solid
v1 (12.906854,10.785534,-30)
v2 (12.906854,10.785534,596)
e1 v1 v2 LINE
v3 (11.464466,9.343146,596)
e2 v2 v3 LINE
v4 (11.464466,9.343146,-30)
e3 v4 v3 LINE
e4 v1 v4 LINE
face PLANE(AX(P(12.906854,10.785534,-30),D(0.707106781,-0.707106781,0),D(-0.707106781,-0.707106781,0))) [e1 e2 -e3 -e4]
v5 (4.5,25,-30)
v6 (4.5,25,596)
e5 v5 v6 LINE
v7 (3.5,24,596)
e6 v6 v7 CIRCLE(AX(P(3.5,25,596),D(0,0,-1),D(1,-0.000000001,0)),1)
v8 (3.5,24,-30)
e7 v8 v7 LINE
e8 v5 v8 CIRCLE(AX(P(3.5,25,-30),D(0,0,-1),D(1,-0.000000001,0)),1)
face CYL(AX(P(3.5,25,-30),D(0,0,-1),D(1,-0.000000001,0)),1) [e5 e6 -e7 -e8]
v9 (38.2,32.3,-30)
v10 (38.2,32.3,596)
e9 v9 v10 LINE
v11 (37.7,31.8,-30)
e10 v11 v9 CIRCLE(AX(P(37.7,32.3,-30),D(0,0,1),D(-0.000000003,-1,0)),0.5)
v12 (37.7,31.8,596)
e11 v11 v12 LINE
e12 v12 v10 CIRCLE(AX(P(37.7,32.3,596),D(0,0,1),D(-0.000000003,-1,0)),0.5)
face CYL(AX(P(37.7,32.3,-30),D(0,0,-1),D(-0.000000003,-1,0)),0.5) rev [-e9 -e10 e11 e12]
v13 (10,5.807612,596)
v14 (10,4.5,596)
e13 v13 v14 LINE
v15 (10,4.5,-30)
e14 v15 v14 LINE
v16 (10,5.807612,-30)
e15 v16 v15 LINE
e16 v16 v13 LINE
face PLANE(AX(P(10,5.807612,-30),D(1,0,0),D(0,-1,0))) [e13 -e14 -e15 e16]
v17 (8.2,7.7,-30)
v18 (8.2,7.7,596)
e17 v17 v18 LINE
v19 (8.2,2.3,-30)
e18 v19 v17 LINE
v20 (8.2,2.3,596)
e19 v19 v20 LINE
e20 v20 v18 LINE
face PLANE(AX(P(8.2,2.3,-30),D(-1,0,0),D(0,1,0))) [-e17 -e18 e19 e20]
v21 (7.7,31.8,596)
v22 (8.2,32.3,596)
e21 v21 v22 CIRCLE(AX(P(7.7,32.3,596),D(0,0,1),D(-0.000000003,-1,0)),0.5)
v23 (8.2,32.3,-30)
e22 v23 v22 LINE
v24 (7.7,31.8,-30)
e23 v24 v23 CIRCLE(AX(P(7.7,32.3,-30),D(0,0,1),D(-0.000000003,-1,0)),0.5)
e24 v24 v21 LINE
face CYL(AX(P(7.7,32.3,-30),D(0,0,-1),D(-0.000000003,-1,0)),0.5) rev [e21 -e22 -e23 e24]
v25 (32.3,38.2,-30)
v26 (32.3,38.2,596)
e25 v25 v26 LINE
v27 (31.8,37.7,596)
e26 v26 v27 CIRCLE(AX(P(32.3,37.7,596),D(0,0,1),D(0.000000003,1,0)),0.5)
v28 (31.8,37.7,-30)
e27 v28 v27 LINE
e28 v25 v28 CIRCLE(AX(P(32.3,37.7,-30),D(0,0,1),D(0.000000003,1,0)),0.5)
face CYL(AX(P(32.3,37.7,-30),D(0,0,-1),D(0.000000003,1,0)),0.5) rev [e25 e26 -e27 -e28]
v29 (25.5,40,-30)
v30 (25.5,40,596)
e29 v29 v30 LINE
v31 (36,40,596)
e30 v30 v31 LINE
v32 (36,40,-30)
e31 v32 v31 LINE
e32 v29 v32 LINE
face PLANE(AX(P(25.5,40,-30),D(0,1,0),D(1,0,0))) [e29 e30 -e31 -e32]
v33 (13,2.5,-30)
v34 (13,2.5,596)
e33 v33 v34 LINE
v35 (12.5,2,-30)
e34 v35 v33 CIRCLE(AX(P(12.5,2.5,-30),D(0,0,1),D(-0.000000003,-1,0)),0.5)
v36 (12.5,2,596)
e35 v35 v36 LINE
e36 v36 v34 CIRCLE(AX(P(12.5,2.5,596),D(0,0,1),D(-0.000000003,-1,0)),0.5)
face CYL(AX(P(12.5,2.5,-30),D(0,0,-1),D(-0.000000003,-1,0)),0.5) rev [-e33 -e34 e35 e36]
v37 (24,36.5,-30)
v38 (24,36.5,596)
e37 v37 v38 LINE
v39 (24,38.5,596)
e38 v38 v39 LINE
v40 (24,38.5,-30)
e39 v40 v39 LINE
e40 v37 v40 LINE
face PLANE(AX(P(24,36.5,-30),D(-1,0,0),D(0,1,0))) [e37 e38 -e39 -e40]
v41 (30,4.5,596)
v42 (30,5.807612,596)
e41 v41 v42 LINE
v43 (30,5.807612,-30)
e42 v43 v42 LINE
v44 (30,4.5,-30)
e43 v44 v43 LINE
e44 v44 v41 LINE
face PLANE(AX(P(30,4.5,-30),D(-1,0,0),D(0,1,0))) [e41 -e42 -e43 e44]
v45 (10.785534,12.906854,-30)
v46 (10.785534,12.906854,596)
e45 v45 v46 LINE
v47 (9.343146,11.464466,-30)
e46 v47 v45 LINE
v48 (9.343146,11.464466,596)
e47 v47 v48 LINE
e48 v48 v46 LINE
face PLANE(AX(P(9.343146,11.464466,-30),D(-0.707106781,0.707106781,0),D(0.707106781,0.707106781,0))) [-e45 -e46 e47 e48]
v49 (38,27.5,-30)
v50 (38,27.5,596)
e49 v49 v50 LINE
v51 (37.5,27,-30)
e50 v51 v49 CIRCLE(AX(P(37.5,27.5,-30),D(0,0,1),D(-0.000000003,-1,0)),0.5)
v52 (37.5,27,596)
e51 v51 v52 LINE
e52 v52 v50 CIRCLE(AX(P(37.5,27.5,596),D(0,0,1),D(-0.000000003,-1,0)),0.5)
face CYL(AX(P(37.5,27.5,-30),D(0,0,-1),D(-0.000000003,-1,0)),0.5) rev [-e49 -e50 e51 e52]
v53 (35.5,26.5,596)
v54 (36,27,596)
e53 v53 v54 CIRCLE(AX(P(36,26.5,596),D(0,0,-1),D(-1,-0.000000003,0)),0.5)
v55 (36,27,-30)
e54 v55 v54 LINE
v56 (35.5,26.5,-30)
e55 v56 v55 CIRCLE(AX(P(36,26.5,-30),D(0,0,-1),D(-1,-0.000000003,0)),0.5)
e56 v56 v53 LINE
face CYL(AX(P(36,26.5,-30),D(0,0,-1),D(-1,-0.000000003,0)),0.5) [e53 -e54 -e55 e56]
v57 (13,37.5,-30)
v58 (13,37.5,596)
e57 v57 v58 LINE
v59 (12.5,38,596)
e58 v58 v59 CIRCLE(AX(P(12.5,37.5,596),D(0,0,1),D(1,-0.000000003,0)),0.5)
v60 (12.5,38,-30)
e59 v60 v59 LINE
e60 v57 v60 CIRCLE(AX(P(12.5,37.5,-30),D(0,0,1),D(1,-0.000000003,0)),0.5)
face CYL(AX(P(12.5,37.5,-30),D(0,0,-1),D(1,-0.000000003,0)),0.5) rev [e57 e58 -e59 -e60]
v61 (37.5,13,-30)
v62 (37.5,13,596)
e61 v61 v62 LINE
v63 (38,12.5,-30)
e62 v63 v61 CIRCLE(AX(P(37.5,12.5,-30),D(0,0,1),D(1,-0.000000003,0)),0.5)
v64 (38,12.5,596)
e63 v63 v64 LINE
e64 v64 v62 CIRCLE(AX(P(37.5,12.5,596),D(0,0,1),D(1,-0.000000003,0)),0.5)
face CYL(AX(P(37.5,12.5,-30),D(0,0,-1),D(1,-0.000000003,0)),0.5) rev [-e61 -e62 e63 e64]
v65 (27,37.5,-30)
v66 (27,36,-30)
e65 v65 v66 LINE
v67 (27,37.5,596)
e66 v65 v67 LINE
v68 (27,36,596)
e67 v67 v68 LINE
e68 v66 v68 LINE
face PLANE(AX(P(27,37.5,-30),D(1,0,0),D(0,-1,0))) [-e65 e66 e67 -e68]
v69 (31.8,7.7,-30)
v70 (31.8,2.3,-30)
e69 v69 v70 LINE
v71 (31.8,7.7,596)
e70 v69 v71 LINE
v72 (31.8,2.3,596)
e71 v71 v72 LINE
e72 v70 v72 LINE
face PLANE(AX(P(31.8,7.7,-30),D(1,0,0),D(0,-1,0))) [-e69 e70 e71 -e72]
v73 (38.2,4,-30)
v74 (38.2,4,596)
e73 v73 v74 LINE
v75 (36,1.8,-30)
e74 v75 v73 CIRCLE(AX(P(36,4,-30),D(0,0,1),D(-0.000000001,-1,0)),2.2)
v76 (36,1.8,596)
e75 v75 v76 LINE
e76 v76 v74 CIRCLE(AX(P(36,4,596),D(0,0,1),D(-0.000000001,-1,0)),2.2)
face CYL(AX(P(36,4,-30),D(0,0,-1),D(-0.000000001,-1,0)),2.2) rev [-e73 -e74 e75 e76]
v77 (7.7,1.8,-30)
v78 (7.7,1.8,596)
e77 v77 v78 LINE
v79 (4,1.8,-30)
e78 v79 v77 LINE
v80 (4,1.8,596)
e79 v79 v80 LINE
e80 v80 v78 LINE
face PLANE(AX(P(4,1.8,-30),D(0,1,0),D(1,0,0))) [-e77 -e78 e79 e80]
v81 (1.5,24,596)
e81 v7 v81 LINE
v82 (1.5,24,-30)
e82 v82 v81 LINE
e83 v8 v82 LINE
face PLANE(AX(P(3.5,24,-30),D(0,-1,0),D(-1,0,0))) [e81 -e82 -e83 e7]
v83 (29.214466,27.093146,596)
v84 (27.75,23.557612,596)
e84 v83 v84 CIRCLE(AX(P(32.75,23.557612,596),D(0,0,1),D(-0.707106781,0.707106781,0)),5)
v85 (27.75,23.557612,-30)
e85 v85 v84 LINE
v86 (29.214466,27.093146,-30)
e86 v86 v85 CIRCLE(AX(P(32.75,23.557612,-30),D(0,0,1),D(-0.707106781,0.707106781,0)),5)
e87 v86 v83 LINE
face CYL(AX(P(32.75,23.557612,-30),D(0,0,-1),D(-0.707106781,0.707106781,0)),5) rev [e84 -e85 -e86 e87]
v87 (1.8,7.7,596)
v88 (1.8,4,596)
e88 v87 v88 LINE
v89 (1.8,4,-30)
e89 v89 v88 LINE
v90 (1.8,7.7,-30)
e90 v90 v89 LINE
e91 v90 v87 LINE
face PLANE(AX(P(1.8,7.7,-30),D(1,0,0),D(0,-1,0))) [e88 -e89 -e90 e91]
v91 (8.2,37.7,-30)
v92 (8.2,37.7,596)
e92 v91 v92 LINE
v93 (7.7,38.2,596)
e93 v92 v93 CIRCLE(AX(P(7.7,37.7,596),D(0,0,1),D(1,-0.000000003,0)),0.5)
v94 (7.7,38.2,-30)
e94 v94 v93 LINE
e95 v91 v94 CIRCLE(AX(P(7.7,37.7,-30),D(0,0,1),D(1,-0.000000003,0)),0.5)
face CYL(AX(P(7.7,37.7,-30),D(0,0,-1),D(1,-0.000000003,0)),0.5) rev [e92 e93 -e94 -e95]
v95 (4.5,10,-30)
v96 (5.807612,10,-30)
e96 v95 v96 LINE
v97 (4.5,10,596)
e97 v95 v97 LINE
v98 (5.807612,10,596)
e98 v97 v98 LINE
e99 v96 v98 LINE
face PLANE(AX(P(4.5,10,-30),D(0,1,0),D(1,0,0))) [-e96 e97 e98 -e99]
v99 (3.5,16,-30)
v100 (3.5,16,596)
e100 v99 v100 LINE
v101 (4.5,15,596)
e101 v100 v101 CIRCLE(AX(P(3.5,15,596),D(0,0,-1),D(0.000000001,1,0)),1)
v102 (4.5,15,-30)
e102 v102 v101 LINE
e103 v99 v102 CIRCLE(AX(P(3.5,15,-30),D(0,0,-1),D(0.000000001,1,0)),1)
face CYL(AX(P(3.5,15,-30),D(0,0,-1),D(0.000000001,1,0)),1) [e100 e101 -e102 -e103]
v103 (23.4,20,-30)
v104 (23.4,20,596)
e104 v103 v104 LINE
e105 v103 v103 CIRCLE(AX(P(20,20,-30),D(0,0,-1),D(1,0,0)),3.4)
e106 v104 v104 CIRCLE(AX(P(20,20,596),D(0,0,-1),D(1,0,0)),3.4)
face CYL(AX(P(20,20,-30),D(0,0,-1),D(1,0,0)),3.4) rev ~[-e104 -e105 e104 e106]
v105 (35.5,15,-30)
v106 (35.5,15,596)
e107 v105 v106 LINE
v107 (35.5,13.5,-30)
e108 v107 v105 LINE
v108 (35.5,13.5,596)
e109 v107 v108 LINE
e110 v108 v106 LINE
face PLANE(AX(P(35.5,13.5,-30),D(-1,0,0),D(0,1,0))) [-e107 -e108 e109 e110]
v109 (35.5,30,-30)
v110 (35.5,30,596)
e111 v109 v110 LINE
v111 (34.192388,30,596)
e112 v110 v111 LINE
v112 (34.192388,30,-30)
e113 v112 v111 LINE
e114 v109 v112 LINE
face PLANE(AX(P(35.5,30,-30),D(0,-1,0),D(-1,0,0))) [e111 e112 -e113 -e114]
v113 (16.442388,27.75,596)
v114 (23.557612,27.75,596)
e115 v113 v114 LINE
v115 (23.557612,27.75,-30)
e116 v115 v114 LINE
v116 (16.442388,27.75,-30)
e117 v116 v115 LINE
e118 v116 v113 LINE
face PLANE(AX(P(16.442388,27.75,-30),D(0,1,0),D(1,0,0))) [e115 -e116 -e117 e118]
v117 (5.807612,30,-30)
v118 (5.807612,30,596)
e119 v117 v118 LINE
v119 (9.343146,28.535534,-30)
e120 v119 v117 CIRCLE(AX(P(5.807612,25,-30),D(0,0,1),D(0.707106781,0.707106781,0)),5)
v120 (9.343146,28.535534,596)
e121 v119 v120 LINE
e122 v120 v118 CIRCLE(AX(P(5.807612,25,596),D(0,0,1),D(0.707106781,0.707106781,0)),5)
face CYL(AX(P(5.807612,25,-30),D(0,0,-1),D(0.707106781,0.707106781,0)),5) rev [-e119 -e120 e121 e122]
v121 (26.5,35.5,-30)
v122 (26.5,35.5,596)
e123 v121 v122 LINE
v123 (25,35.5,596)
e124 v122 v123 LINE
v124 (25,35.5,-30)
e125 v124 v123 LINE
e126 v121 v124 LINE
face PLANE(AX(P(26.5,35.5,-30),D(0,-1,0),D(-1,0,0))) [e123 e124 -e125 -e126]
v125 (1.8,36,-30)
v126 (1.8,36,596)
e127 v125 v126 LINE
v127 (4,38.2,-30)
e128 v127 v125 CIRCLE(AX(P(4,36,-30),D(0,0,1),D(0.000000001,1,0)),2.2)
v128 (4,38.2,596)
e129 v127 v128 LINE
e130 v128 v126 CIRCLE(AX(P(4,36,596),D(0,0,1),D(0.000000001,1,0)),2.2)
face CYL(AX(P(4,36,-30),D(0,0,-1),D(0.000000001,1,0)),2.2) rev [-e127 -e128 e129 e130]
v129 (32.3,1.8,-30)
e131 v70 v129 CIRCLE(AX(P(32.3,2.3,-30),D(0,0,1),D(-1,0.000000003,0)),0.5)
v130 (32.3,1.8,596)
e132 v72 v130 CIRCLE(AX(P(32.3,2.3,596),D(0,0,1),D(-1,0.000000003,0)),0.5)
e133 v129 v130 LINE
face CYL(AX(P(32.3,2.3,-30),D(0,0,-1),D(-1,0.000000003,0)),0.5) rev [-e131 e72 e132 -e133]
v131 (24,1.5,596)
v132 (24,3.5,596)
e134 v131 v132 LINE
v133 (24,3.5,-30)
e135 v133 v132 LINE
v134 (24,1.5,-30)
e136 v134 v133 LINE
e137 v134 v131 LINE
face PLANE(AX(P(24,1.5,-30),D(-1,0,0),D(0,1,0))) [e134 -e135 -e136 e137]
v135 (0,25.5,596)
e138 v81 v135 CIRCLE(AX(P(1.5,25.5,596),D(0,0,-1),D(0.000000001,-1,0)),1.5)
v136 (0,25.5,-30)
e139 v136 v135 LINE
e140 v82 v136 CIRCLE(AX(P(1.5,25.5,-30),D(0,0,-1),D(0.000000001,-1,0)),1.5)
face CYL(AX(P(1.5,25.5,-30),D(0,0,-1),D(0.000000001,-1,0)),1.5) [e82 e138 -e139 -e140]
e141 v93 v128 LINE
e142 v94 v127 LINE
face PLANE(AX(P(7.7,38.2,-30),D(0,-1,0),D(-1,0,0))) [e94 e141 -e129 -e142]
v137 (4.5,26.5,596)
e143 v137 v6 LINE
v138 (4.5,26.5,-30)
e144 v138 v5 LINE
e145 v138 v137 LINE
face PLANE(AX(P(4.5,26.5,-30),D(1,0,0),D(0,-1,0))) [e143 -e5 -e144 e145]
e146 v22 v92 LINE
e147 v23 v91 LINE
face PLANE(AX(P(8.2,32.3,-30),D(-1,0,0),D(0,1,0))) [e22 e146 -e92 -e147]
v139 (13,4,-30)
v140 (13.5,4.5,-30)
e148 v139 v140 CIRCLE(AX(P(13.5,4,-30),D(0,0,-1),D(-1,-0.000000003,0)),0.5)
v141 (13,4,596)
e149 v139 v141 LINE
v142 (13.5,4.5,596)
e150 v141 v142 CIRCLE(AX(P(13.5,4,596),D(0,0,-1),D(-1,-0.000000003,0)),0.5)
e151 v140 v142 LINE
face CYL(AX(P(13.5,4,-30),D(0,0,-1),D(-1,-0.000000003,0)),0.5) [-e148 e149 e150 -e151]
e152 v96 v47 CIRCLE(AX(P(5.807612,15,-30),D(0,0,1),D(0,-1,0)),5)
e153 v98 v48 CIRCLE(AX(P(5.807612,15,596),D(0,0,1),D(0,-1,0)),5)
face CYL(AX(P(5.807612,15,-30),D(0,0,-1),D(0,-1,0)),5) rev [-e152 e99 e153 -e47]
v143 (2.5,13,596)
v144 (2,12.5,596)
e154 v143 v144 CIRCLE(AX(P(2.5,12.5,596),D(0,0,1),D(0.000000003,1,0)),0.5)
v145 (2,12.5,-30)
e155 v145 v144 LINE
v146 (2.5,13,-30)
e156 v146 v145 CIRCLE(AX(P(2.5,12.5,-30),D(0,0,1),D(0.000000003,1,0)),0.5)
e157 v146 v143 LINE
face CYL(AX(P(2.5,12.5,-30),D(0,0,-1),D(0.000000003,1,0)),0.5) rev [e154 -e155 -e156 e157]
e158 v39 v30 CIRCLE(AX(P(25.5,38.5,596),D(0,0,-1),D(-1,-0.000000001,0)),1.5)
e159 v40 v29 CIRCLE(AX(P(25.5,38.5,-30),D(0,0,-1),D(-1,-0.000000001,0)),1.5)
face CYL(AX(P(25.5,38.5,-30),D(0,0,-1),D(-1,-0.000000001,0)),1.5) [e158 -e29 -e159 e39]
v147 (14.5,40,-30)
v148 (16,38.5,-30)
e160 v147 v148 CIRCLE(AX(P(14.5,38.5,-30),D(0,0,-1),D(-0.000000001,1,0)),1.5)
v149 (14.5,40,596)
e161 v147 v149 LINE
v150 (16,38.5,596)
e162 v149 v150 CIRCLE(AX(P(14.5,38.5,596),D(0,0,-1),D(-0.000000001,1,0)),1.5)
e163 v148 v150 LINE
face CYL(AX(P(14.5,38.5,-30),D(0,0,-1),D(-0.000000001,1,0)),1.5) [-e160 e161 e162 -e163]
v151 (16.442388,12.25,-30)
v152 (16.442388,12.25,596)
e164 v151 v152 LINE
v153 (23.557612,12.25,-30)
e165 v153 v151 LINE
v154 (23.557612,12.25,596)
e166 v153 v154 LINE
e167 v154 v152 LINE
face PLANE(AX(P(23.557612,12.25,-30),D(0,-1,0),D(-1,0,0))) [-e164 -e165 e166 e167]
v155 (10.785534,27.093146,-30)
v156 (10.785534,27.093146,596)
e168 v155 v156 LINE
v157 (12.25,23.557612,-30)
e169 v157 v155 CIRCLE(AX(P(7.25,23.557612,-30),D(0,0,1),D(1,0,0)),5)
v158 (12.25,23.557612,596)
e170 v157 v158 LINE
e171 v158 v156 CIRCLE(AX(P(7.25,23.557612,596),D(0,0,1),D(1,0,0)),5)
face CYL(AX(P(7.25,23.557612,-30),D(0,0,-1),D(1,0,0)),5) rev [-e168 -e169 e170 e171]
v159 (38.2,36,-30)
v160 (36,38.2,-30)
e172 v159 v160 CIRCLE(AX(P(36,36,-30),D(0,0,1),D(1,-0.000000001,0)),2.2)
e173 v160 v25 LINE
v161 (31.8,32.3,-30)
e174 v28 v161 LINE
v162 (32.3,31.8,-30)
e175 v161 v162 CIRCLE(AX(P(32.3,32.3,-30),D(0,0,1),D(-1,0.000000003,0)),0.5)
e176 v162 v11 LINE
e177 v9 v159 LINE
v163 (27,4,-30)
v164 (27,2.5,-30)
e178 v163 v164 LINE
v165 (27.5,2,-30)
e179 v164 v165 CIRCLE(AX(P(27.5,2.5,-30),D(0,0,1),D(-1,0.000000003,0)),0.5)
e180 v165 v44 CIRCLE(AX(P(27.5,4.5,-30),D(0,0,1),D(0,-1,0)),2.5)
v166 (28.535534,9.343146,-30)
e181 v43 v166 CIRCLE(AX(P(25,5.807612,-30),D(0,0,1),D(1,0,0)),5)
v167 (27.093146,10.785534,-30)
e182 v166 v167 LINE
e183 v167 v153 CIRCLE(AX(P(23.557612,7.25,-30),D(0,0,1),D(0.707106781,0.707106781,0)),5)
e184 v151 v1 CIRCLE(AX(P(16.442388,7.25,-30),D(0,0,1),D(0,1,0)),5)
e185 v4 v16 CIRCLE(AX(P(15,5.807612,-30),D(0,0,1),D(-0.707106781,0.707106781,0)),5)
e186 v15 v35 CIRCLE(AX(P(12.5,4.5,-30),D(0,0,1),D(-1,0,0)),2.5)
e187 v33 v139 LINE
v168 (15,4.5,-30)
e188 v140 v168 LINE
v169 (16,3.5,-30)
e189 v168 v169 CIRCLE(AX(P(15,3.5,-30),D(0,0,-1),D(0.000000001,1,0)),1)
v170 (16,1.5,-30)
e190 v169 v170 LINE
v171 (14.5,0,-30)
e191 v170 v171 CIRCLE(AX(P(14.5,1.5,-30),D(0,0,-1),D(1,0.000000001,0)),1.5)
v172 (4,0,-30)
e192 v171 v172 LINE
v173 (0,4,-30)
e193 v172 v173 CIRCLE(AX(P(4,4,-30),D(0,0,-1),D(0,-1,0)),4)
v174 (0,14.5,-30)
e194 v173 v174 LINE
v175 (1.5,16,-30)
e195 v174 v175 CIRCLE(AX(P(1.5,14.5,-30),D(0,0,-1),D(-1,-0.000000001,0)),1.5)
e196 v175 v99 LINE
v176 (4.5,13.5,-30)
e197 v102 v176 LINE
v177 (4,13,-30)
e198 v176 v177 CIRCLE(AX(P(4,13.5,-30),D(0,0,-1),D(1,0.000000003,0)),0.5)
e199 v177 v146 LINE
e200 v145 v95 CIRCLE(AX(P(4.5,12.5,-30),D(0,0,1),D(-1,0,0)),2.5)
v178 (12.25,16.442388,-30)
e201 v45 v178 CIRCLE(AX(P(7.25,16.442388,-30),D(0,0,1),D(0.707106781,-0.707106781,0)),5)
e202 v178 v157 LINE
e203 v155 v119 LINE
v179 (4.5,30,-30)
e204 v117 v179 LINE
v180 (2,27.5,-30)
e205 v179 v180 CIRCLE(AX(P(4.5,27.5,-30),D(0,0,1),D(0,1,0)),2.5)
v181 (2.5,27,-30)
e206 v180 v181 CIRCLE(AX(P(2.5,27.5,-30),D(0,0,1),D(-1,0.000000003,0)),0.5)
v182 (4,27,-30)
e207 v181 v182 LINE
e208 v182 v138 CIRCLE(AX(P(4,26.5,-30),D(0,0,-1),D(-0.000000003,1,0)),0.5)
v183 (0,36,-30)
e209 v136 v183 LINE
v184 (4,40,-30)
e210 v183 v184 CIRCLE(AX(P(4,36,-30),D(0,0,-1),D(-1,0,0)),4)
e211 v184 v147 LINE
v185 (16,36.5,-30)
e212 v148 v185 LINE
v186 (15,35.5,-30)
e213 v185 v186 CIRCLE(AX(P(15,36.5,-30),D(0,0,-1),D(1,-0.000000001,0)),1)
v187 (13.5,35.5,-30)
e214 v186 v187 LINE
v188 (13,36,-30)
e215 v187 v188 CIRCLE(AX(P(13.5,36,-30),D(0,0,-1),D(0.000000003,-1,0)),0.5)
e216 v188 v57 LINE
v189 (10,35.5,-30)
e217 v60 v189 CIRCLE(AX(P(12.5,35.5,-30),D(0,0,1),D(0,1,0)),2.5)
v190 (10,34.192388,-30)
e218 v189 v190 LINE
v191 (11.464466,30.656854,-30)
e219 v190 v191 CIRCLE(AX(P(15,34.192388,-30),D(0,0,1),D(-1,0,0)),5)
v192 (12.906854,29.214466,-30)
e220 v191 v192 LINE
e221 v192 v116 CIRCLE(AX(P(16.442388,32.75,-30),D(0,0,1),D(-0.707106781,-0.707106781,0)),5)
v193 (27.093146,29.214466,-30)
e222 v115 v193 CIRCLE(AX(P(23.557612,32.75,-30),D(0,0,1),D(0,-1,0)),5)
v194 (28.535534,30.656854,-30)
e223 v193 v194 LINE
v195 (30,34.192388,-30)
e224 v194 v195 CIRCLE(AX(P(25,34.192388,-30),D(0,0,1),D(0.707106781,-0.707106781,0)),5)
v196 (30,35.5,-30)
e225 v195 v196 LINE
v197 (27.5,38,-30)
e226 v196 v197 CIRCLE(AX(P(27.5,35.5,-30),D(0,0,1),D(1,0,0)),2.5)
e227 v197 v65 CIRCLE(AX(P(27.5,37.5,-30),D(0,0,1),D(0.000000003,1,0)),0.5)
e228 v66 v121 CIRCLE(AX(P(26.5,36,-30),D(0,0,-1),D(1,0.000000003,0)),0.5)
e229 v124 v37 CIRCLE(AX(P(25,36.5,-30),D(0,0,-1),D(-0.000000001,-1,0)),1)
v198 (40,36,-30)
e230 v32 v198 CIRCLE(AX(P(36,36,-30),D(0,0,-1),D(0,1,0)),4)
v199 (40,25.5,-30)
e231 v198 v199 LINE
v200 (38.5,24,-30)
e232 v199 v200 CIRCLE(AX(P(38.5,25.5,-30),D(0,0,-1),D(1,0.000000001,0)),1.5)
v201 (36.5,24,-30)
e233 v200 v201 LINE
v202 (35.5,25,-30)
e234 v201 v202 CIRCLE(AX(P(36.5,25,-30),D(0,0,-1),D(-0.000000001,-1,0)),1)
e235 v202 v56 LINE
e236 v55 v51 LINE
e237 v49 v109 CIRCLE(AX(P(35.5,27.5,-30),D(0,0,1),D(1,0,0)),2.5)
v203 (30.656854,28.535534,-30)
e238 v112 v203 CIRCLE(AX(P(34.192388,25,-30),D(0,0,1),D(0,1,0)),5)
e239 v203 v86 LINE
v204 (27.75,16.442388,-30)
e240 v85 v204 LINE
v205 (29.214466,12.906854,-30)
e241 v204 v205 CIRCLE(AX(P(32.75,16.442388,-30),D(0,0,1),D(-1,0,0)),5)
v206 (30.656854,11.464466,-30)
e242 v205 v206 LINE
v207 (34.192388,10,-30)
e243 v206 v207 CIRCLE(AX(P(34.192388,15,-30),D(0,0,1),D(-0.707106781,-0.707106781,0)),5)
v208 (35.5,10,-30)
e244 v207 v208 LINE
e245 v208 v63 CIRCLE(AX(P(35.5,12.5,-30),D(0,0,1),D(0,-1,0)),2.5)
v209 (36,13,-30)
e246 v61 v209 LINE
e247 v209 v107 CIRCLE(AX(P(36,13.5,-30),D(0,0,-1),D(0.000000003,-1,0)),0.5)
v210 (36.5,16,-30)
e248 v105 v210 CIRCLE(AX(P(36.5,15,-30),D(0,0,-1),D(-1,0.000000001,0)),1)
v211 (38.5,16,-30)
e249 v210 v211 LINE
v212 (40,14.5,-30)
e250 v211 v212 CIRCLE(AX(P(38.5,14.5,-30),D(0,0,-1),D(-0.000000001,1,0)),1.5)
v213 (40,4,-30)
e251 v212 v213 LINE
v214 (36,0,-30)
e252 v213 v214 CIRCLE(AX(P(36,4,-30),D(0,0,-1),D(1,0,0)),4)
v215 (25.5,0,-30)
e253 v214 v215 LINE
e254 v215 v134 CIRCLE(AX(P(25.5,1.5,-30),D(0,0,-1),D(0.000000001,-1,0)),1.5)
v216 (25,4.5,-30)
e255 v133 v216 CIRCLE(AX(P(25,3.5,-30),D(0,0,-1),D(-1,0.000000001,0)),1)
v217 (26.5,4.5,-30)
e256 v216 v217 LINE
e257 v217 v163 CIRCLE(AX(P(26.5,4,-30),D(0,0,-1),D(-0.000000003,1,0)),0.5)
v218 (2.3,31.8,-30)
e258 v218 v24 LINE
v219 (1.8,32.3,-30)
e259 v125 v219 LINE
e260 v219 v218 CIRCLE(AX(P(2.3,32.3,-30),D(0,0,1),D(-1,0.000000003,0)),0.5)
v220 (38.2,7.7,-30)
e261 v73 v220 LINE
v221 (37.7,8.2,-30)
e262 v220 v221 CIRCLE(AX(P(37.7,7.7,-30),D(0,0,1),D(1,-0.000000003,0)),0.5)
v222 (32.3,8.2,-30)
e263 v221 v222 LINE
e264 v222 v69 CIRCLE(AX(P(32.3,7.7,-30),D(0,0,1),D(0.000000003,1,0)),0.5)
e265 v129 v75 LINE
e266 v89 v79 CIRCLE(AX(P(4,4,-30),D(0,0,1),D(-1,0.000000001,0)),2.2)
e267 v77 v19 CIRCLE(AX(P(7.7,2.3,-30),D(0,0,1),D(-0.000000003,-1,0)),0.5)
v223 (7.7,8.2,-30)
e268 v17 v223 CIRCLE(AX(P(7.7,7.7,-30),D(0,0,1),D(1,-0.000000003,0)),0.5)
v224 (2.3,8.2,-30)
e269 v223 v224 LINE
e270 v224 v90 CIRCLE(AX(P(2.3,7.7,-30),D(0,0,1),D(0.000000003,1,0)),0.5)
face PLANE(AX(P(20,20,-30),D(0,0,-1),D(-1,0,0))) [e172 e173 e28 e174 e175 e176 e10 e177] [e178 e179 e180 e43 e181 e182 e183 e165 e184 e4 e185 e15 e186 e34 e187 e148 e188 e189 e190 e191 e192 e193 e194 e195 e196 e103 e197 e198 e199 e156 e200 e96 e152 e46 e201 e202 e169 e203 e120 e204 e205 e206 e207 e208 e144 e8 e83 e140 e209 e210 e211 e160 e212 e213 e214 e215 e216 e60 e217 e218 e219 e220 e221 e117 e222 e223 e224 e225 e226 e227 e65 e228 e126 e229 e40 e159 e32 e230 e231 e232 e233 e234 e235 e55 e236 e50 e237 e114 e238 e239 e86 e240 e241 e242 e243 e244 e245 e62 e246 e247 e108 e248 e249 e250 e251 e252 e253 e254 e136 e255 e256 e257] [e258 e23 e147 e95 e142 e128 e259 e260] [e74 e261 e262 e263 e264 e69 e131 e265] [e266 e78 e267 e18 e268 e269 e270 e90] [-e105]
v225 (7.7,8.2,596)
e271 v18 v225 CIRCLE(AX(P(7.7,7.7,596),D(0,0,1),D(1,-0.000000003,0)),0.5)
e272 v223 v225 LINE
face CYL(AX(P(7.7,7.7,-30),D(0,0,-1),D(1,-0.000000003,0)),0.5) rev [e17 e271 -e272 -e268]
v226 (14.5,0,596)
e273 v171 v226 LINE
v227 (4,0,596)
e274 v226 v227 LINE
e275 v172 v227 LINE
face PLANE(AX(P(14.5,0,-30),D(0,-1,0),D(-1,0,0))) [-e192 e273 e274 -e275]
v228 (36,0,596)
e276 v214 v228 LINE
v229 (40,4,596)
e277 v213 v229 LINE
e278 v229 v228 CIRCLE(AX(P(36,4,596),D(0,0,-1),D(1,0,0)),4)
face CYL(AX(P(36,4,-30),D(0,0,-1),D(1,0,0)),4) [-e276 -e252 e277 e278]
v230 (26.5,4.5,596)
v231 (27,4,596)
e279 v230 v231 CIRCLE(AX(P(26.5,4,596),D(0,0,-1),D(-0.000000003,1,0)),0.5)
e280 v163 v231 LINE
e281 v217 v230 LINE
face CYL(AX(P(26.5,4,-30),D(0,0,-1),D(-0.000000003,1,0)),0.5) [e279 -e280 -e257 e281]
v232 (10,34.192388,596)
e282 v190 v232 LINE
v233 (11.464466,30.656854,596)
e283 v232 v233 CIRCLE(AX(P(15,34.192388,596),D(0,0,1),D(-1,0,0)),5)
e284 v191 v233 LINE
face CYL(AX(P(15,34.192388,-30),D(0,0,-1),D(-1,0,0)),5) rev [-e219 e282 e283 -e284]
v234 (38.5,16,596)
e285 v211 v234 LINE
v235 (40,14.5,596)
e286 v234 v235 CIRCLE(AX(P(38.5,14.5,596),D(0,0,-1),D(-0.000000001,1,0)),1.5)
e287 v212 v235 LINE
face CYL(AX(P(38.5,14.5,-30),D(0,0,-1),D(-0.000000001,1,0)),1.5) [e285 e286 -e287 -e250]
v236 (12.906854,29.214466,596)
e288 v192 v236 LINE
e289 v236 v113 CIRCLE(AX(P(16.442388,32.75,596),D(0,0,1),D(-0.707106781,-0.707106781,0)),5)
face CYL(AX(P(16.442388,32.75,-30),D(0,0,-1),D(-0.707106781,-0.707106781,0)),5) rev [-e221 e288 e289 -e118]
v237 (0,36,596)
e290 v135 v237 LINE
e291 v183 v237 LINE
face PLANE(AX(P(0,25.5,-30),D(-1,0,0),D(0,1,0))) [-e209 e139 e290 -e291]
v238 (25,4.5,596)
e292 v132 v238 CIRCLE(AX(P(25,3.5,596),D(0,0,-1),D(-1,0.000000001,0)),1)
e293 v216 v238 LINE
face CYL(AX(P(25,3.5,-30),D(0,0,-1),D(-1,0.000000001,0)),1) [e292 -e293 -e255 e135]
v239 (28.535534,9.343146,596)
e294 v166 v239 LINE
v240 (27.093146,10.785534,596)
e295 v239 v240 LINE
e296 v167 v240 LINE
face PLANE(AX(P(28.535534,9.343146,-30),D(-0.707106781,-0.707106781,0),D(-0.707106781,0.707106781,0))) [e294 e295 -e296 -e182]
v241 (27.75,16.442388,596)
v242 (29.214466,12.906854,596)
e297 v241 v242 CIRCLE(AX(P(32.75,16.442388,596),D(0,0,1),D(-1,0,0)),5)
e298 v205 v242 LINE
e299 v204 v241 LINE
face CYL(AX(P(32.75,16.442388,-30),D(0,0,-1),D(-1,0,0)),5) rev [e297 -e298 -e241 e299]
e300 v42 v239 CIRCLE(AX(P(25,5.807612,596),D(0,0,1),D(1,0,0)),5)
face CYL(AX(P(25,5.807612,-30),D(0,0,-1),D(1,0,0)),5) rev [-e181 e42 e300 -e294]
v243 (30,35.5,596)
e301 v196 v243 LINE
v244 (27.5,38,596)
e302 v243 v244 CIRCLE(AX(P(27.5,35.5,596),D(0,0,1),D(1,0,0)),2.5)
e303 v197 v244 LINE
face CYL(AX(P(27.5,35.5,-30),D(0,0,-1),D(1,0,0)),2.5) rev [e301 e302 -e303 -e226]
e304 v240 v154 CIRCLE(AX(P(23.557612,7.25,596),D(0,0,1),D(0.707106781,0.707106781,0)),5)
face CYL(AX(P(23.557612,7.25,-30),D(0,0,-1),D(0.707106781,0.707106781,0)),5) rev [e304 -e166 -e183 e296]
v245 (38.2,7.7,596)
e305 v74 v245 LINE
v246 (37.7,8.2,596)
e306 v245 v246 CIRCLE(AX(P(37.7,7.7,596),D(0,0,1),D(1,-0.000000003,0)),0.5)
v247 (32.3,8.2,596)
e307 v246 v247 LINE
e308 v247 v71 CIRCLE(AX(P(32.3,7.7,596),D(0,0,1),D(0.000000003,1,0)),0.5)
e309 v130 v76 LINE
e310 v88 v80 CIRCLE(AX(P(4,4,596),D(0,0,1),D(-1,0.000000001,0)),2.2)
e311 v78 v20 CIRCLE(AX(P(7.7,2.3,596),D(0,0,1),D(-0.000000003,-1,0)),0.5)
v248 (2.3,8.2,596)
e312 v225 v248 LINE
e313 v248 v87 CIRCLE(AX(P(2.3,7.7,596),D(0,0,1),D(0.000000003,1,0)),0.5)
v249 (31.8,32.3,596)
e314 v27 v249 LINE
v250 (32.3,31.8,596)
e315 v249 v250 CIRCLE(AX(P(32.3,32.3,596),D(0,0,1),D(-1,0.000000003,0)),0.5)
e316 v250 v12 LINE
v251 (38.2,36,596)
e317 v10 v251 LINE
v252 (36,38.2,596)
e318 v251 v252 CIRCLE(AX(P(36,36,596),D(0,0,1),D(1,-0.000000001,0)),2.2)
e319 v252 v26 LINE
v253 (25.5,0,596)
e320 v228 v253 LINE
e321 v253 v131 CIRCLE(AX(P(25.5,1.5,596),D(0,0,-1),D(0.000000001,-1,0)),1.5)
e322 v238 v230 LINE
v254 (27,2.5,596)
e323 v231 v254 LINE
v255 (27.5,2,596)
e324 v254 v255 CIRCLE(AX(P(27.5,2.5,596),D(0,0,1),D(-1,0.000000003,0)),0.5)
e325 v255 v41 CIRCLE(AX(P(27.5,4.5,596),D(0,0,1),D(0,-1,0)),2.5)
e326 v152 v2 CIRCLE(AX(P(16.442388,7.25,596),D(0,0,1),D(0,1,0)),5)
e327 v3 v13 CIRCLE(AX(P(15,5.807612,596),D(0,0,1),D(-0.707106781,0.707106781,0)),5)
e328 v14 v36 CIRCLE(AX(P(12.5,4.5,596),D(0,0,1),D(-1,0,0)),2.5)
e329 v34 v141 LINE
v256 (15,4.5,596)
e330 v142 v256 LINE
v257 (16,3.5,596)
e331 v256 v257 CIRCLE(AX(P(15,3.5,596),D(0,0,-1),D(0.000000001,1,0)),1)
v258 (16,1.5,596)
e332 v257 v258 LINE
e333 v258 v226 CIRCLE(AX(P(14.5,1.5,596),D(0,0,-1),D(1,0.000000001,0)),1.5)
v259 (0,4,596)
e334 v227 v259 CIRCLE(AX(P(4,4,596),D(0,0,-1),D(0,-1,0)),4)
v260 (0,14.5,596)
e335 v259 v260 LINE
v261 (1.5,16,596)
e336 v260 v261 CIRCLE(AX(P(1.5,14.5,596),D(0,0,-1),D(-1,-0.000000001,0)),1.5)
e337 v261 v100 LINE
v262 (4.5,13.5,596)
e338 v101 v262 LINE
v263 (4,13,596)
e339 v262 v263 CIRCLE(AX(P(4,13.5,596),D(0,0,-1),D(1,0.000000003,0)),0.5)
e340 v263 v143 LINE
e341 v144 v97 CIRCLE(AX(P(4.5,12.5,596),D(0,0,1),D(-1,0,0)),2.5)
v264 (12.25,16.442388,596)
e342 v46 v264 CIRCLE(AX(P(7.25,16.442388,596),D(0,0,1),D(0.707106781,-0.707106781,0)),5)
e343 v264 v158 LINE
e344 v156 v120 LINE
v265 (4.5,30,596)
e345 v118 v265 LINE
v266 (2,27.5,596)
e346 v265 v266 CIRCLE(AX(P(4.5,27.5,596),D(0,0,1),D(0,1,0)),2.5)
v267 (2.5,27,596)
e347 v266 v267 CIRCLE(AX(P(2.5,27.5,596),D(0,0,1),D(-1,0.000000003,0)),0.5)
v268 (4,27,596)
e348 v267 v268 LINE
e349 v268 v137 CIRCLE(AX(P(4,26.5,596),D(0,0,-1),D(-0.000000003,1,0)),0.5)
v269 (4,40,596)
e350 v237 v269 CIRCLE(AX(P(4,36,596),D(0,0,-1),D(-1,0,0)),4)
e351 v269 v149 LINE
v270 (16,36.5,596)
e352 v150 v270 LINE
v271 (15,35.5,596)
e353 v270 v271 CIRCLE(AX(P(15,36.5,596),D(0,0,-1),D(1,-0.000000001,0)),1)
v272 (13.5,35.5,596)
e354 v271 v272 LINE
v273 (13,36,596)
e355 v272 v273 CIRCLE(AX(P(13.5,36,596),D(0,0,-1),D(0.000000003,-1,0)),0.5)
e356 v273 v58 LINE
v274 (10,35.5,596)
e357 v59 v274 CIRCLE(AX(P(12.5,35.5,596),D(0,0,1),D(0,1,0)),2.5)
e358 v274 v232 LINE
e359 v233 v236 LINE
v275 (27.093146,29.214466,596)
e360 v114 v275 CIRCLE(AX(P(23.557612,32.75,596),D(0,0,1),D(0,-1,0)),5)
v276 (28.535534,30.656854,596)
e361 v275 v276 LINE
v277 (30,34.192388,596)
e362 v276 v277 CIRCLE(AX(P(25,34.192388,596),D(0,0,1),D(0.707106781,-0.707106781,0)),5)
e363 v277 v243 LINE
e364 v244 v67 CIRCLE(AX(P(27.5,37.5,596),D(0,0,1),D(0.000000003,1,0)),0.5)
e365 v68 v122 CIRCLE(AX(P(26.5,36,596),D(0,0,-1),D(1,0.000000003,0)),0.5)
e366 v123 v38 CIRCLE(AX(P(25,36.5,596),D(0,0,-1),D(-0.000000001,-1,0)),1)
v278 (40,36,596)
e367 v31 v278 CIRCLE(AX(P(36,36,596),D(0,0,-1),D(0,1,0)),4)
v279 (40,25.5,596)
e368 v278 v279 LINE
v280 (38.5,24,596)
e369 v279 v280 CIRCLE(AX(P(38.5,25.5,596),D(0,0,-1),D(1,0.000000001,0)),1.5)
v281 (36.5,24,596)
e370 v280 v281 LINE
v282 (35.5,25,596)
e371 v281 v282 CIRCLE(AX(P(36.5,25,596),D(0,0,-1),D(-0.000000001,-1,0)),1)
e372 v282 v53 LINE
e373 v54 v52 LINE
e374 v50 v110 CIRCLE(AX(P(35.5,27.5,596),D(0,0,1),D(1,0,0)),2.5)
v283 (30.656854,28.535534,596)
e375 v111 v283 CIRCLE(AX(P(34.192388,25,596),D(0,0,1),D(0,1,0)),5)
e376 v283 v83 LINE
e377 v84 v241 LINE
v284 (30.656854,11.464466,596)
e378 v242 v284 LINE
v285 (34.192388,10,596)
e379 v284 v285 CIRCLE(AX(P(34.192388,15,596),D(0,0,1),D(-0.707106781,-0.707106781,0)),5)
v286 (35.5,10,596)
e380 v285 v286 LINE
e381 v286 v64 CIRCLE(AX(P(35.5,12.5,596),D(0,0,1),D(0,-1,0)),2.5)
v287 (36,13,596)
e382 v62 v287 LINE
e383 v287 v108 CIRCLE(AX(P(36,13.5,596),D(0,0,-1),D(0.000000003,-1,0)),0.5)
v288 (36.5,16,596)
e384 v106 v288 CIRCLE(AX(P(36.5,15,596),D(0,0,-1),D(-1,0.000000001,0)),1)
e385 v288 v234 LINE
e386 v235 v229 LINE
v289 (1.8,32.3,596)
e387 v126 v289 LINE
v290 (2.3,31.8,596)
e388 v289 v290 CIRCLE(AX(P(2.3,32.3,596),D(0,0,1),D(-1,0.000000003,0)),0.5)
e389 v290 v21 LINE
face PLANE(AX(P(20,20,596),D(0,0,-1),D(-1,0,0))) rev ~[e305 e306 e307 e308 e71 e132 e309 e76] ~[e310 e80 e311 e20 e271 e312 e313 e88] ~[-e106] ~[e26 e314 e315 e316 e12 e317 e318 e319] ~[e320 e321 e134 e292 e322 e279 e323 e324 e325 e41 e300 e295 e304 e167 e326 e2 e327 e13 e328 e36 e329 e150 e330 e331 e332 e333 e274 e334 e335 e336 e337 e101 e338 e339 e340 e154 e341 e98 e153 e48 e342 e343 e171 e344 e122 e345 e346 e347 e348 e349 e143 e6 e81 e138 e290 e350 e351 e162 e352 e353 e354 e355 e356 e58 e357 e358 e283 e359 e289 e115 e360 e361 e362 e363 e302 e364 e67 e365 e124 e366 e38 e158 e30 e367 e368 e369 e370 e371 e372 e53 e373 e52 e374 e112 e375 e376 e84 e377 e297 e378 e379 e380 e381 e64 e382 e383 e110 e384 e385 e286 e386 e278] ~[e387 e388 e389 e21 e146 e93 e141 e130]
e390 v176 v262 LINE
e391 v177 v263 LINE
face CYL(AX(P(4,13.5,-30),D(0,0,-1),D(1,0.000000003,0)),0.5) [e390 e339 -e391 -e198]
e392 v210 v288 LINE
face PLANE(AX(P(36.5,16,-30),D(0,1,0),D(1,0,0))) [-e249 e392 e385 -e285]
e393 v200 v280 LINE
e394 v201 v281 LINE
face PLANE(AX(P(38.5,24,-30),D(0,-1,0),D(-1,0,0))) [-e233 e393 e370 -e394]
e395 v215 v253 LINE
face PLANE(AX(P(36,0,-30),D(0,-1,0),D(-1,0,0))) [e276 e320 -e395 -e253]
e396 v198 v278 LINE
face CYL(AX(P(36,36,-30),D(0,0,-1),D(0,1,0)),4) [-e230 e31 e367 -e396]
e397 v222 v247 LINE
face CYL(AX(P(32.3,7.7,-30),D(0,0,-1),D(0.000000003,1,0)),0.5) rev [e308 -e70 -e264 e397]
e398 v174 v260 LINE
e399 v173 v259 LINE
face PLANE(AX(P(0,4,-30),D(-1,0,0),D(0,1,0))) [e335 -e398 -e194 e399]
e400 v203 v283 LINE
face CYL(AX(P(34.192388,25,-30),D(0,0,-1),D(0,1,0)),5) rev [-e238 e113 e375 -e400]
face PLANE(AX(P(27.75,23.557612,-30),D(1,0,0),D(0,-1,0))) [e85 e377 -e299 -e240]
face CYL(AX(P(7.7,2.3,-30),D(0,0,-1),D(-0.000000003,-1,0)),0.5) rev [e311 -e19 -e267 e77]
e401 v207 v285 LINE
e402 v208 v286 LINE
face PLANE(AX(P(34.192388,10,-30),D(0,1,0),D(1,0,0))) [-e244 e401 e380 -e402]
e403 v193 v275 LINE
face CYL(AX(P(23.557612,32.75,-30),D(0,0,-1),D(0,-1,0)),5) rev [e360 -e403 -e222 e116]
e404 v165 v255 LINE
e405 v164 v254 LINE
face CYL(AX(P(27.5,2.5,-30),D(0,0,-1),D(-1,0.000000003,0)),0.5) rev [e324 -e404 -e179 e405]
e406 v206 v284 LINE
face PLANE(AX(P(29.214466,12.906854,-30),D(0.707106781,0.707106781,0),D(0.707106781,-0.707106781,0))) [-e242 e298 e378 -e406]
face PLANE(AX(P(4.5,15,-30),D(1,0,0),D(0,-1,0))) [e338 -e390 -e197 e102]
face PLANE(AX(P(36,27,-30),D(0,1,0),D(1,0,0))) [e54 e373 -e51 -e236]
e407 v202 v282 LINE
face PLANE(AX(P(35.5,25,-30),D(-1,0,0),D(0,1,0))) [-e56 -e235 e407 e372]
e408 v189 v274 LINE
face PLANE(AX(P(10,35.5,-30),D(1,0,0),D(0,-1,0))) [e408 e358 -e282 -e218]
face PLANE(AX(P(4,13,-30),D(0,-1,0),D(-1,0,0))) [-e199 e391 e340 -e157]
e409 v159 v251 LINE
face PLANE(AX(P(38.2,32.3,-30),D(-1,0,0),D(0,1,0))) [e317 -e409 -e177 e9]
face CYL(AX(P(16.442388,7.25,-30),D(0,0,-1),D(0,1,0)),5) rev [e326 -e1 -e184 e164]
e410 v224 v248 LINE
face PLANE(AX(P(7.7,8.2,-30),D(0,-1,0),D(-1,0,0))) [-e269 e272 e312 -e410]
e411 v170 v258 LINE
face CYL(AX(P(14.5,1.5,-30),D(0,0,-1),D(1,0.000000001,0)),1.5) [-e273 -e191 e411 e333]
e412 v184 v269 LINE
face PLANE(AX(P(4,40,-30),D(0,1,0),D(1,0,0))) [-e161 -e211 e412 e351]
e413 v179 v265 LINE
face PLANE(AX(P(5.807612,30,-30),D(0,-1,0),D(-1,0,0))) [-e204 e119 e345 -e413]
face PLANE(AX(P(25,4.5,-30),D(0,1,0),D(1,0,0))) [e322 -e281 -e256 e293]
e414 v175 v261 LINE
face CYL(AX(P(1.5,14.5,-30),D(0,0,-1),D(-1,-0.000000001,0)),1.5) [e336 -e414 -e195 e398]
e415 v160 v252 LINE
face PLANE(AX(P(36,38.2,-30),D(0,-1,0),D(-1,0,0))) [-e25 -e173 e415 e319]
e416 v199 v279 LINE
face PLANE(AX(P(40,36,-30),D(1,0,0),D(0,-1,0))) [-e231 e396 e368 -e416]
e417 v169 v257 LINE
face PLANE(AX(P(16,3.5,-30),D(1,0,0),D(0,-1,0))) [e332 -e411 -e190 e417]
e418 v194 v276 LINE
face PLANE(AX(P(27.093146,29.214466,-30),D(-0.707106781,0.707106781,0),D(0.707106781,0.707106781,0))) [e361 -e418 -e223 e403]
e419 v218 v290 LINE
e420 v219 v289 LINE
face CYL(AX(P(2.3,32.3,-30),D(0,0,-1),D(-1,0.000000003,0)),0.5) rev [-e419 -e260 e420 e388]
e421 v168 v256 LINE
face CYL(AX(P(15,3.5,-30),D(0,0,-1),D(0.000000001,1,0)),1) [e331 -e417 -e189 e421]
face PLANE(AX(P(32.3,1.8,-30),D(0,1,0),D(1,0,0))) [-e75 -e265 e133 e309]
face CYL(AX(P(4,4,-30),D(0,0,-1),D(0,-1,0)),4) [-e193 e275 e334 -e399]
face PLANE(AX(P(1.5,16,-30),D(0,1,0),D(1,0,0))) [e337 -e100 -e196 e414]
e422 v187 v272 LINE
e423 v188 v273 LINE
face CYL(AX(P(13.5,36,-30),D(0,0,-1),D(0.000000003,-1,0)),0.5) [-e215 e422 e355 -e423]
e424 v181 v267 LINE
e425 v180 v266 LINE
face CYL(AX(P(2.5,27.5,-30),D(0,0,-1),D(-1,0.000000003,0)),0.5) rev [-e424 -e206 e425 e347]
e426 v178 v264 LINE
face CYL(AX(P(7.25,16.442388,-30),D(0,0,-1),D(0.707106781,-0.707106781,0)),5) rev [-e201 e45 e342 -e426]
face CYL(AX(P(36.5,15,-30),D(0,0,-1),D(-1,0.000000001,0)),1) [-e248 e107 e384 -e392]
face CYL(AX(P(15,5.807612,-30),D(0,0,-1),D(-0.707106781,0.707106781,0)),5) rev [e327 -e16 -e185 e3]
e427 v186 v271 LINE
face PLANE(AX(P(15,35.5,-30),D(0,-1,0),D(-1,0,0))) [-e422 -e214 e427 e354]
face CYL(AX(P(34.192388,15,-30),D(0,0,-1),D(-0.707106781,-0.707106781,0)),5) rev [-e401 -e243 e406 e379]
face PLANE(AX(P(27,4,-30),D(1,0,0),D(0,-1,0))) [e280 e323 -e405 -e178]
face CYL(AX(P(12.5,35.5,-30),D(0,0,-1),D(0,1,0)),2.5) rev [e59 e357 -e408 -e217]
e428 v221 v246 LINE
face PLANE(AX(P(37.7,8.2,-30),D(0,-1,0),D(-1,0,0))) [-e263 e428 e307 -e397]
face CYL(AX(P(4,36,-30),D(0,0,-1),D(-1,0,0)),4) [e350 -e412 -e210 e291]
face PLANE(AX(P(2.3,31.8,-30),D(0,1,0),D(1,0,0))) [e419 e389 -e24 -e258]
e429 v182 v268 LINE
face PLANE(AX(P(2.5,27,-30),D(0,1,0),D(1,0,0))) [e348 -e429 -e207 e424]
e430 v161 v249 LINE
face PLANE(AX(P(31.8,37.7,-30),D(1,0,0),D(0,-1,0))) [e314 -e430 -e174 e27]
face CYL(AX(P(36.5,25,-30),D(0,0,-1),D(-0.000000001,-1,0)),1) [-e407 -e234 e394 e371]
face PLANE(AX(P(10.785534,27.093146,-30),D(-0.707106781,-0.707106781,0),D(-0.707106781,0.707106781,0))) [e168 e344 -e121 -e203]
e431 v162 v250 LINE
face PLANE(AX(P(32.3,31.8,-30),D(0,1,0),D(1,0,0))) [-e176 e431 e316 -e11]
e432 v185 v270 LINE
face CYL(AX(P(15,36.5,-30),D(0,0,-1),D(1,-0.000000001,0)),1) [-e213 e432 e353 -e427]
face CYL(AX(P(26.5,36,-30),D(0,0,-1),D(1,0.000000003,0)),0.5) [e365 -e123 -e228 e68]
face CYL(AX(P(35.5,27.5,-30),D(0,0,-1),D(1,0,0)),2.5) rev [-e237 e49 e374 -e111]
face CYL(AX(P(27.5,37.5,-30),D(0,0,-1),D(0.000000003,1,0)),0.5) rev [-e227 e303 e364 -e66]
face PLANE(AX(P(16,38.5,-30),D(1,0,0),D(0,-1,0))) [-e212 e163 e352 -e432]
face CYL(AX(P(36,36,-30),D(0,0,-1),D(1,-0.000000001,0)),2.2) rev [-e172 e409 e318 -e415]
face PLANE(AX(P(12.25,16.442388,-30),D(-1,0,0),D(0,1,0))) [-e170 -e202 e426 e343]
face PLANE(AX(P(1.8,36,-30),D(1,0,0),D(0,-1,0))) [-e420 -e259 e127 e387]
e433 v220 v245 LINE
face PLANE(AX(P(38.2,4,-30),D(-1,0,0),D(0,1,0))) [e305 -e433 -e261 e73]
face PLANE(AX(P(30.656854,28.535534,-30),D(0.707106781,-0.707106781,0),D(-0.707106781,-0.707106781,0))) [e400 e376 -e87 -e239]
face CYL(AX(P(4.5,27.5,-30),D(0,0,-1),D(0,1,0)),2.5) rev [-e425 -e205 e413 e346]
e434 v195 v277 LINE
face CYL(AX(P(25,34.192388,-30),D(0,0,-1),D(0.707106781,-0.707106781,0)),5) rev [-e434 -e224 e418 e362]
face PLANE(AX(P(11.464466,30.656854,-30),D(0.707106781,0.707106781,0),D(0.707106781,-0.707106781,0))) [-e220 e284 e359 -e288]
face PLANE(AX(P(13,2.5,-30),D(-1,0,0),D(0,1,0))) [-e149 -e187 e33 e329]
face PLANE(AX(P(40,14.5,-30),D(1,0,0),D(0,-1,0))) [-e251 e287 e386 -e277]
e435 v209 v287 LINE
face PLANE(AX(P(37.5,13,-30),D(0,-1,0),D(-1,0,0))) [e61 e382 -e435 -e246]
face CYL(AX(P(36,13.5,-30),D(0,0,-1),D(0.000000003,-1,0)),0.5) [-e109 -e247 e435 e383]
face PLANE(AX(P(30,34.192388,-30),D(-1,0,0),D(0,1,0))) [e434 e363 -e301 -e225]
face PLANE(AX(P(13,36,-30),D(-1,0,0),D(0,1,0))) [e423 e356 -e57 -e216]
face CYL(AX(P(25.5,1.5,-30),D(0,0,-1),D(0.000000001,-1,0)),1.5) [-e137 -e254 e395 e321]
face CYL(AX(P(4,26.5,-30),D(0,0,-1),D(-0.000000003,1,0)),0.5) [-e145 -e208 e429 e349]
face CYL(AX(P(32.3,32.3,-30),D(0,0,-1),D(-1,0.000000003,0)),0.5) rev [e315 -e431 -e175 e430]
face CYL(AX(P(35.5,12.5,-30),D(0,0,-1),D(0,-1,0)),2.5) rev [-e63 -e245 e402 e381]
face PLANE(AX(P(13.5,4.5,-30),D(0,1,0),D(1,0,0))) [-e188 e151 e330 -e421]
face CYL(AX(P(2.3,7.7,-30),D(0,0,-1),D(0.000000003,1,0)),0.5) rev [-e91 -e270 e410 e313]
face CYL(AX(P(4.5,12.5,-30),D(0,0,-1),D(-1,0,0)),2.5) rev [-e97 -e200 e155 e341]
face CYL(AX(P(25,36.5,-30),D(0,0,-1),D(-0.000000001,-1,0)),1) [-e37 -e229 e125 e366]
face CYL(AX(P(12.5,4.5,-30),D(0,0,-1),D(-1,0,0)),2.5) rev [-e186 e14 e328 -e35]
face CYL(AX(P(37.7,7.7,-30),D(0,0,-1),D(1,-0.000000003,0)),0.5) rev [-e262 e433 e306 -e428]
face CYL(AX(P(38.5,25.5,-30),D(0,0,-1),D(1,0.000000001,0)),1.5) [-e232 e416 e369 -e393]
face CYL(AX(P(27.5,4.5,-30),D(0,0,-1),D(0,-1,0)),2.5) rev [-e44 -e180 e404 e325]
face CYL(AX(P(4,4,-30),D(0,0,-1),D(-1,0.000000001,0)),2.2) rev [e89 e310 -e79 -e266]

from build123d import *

# Parameters (mm, degrees)
ESQUISSE1_R        = 3.4
BOSS_EXTRU_1_DEPTH = 626


with BuildPart() as part:
    # Esquisse1 → Boss.-Extru.1 (new body)
    with BuildSketch(Plane(origin=(0, 0, -30), x_dir=(-1, 0, 0), z_dir=(0, 0, -1))):
        with BuildLine():
            Line((-4.5, 15), (-4.5, 13.5))
            ThreePointArc((-4.5, 13.5), (-4.353553391, 13.146446609), (-4, 13))
            Line((-4, 13), (-2.5, 13))
            ThreePointArc((-2.5, 13), (-2.146446609, 12.853553391), (-2, 12.5))
            ThreePointArc((-2, 12.5), (-2.732233047, 10.732233047), (-4.5, 10))
            Line((-4.5, 10), (-5.807611845, 10))
            ThreePointArc((-5.807611845, 10), (-7.721029006, 10.380602337), (-9.343145751, 11.464466094))
            Line((-9.343145751, 11.464466094), (-10.785533906, 12.906854249))
            ThreePointArc((-10.785533906, 12.906854249), (-11.869397663, 14.528970994), (-12.25, 16.442388155))
            Line((-12.25, 16.442388155), (-12.25, 23.557611845))
            ThreePointArc((-12.25, 23.557611845), (-11.869397663, 25.471029006), (-10.785533906, 27.093145751))
            Line((-10.785533906, 27.093145751), (-9.343145751, 28.535533906))
            ThreePointArc((-9.343145751, 28.535533906), (-7.721029006, 29.619397663), (-5.807611845, 30))
            Line((-5.807611845, 30), (-4.5, 30))
            ThreePointArc((-4.5, 30), (-2.732233047, 29.267766953), (-2, 27.5))
            ThreePointArc((-2, 27.5), (-2.146446609, 27.146446609), (-2.5, 27))
            Line((-2.5, 27), (-4, 27))
            ThreePointArc((-4, 27), (-4.353553391, 26.853553391), (-4.5, 26.5))
            Line((-4.5, 26.5), (-4.5, 25))
            ThreePointArc((-4.5, 25), (-4.207106781, 24.292893219), (-3.5, 24))
            Line((-3.5, 24), (-1.5, 24))
            ThreePointArc((-1.5, 24), (-0.439339828, 24.439339828), (0, 25.5))
            Line((0, 25.5), (0, 36))
            ThreePointArc((0, 36), (-1.171572875, 38.828427125), (-4, 40))
            Line((-4, 40), (-14.5, 40))
            ThreePointArc((-14.5, 40), (-15.560660172, 39.560660172), (-16, 38.5))
            Line((-16, 38.5), (-16, 36.5))
            ThreePointArc((-16, 36.5), (-15.707106781, 35.792893219), (-15, 35.5))
            Line((-15, 35.5), (-13.5, 35.5))
            ThreePointArc((-13.5, 35.5), (-13.146446609, 35.646446609), (-13, 36))
            Line((-13, 36), (-13, 37.5))
            ThreePointArc((-13, 37.5), (-12.853553391, 37.853553391), (-12.5, 38))
            ThreePointArc((-12.5, 38), (-10.732233047, 37.267766953), (-10, 35.5))
            Line((-10, 35.5), (-10, 34.192388155))
            ThreePointArc((-10, 34.192388155), (-10.380602337, 32.278970994), (-11.464466094, 30.656854249))
            Line((-11.464466094, 30.656854249), (-12.906854249, 29.214466094))
            ThreePointArc((-12.906854249, 29.214466094), (-14.528970994, 28.130602337), (-16.442388155, 27.75))
            Line((-16.442388155, 27.75), (-23.557611845, 27.75))
            ThreePointArc((-23.557611845, 27.75), (-25.471029006, 28.130602337), (-27.093145751, 29.214466094))
            Line((-27.093145751, 29.214466094), (-28.535533906, 30.656854249))
            ThreePointArc((-28.535533906, 30.656854249), (-29.619397663, 32.278970994), (-30, 34.192388155))
            Line((-30, 34.192388155), (-30, 35.5))
            ThreePointArc((-30, 35.5), (-29.267766953, 37.267766953), (-27.5, 38))
            ThreePointArc((-27.5, 38), (-27.146446609, 37.853553391), (-27, 37.5))
            Line((-27, 37.5), (-27, 36))
            ThreePointArc((-27, 36), (-26.853553391, 35.646446609), (-26.5, 35.5))
            Line((-26.5, 35.5), (-25, 35.5))
            ThreePointArc((-25, 35.5), (-24.292893219, 35.792893219), (-24, 36.5))
            Line((-24, 36.5), (-24, 38.5))
            ThreePointArc((-24, 38.5), (-24.439339828, 39.560660172), (-25.5, 40))
            Line((-25.5, 40), (-36, 40))
            ThreePointArc((-36, 40), (-38.828427125, 38.828427125), (-40, 36))
            Line((-40, 36), (-40, 25.5))
            ThreePointArc((-40, 25.5), (-39.560660172, 24.439339828), (-38.5, 24))
            Line((-38.5, 24), (-36.5, 24))
            ThreePointArc((-36.5, 24), (-35.792893219, 24.292893219), (-35.5, 25))
            Line((-35.5, 25), (-35.5, 26.5))
            ThreePointArc((-35.5, 26.5), (-35.646446609, 26.853553391), (-36, 27))
            Line((-36, 27), (-37.5, 27))
            ThreePointArc((-37.5, 27), (-37.853553391, 27.146446609), (-38, 27.5))
            ThreePointArc((-38, 27.5), (-37.267766953, 29.267766953), (-35.5, 30))
            Line((-35.5, 30), (-34.192388155, 30))
            ThreePointArc((-34.192388155, 30), (-32.278970994, 29.619397663), (-30.656854249, 28.535533906))
            Line((-30.656854249, 28.535533906), (-29.214466094, 27.093145751))
            ThreePointArc((-29.214466094, 27.093145751), (-28.130602337, 25.471029006), (-27.75, 23.557611845))
            Line((-27.75, 23.557611845), (-27.75, 16.442388155))
            ThreePointArc((-27.75, 16.442388155), (-28.130602337, 14.528970994), (-29.214466094, 12.906854249))
            Line((-29.214466094, 12.906854249), (-30.656854249, 11.464466094))
            ThreePointArc((-30.656854249, 11.464466094), (-32.278970994, 10.380602337), (-34.192388155, 10))
            Line((-34.192388155, 10), (-35.5, 10))
            ThreePointArc((-35.5, 10), (-37.267766953, 10.732233047), (-38, 12.5))
            ThreePointArc((-38, 12.5), (-37.853553391, 12.853553391), (-37.5, 13))
            Line((-37.5, 13), (-36, 13))
            ThreePointArc((-36, 13), (-35.646446609, 13.146446609), (-35.5, 13.5))
            Line((-35.5, 13.5), (-35.5, 15))
            ThreePointArc((-35.5, 15), (-35.792893219, 15.707106781), (-36.5, 16))
            Line((-36.5, 16), (-38.5, 16))
            ThreePointArc((-38.5, 16), (-39.560660172, 15.560660172), (-40, 14.5))
            Line((-40, 14.5), (-40, 4))
            ThreePointArc((-40, 4), (-38.828427125, 1.171572875), (-36, 0))
            Line((-36, 0), (-25.5, 0))
            ThreePointArc((-25.5, 0), (-24.439339828, 0.439339828), (-24, 1.5))
            Line((-24, 1.5), (-24, 3.5))
            ThreePointArc((-24, 3.5), (-24.292893219, 4.207106781), (-25, 4.5))
            Line((-25, 4.5), (-26.5, 4.5))
            ThreePointArc((-26.5, 4.5), (-26.853553391, 4.353553391), (-27, 4))
            Line((-27, 4), (-27, 2.5))
            ThreePointArc((-27, 2.5), (-27.146446609, 2.146446609), (-27.5, 2))
            ThreePointArc((-27.5, 2), (-29.267766953, 2.732233047), (-30, 4.5))
            Line((-30, 4.5), (-30, 5.807611845))
            ThreePointArc((-30, 5.807611845), (-29.619397663, 7.721029006), (-28.535533906, 9.343145751))
            Line((-28.535533906, 9.343145751), (-27.093145751, 10.785533906))
            ThreePointArc((-27.093145751, 10.785533906), (-25.471029006, 11.869397663), (-23.557611845, 12.25))
            Line((-23.557611845, 12.25), (-16.442388155, 12.25))
            ThreePointArc((-16.442388155, 12.25), (-14.528970994, 11.869397663), (-12.906854249, 10.785533906))
            Line((-12.906854249, 10.785533906), (-11.464466094, 9.343145751))
            ThreePointArc((-11.464466094, 9.343145751), (-10.380602337, 7.721029006), (-10, 5.807611845))
            Line((-10, 5.807611845), (-10, 4.5))
            ThreePointArc((-10, 4.5), (-10.732233047, 2.732233047), (-12.5, 2))
            ThreePointArc((-12.5, 2), (-12.853553391, 2.146446609), (-13, 2.5))
            Line((-13, 2.5), (-13, 4))
            ThreePointArc((-13, 4), (-13.146446609, 4.353553391), (-13.5, 4.5))
            Line((-13.5, 4.5), (-15, 4.5))
            ThreePointArc((-15, 4.5), (-15.707106781, 4.207106781), (-16, 3.5))
            Line((-16, 3.5), (-16, 1.5))
            ThreePointArc((-16, 1.5), (-15.560660172, 0.439339828), (-14.5, 0))
            Line((-14.5, 0), (-4, 0))
            ThreePointArc((-4, 0), (-1.171572875, 1.171572875), (0, 4))
            Line((0, 4), (0, 14.5))
            ThreePointArc((0, 14.5), (-0.439339828, 15.560660172), (-1.5, 16))
            Line((-1.5, 16), (-3.5, 16))
            ThreePointArc((-3.5, 16), (-4.207106781, 15.707106781), (-4.5, 15))
        make_face()
        with Locations(Location((-20, 20, 0), (0, 0, 180))):
            Circle(ESQUISSE1_R, mode=Mode.SUBTRACT)
        with BuildLine():
            Line((-4, 1.8), (-7.7, 1.8))
            ThreePointArc((-7.7, 1.8), (-8.053553391, 1.946446609), (-8.2, 2.3))
            Line((-8.2, 2.3), (-8.2, 7.7))
            ThreePointArc((-8.2, 7.7), (-8.053553391, 8.053553391), (-7.7, 8.2))
            Line((-7.7, 8.2), (-2.3, 8.2))
            ThreePointArc((-2.3, 8.2), (-1.946446609, 8.053553391), (-1.8, 7.7))
            Line((-1.8, 7.7), (-1.8, 4))
            ThreePointArc((-1.8, 4), (-2.444365081, 2.444365081), (-4, 1.8))
        make_face(mode=Mode.SUBTRACT)
        with BuildLine():
            Line((-38.2, 4), (-38.2, 7.7))
            ThreePointArc((-38.2, 7.7), (-38.053553391, 8.053553391), (-37.7, 8.2))
            Line((-37.7, 8.2), (-32.3, 8.2))
            ThreePointArc((-32.3, 8.2), (-31.946446609, 8.053553391), (-31.8, 7.7))
            Line((-31.8, 7.7), (-31.8, 2.3))
            ThreePointArc((-31.8, 2.3), (-31.946446609, 1.946446609), (-32.3, 1.8))
            Line((-32.3, 1.8), (-36, 1.8))
            ThreePointArc((-36, 1.8), (-37.555634919, 2.444365081), (-38.2, 4))
        make_face(mode=Mode.SUBTRACT)
        with BuildLine():
            Line((-36, 38.2), (-32.3, 38.2))
            ThreePointArc((-32.3, 38.2), (-31.946446609, 38.053553391), (-31.8, 37.7))
            Line((-31.8, 37.7), (-31.8, 32.3))
            ThreePointArc((-31.8, 32.3), (-31.946446609, 31.946446609), (-32.3, 31.8))
            Line((-32.3, 31.8), (-37.7, 31.8))
            ThreePointArc((-37.7, 31.8), (-38.053553391, 31.946446609), (-38.2, 32.3))
            Line((-38.2, 32.3), (-38.2, 36))
            ThreePointArc((-38.2, 36), (-37.555634919, 37.555634919), (-36, 38.2))
        make_face(mode=Mode.SUBTRACT)
        with BuildLine():
            Line((-1.8, 36), (-1.8, 32.3))
            ThreePointArc((-1.8, 32.3), (-1.946446609, 31.946446609), (-2.3, 31.8))
            Line((-2.3, 31.8), (-7.7, 31.8))
            ThreePointArc((-7.7, 31.8), (-8.053553391, 31.946446609), (-8.2, 32.3))
            Line((-8.2, 32.3), (-8.2, 37.7))
            ThreePointArc((-8.2, 37.7), (-8.053553391, 38.053553391), (-7.7, 38.2))
            Line((-7.7, 38.2), (-4, 38.2))
            ThreePointArc((-4, 38.2), (-2.444365081, 37.555634919), (-1.8, 36))
        make_face(mode=Mode.SUBTRACT)
    extrude(amount=-BOSS_EXTRU_1_DEPTH)


solid = part.part
